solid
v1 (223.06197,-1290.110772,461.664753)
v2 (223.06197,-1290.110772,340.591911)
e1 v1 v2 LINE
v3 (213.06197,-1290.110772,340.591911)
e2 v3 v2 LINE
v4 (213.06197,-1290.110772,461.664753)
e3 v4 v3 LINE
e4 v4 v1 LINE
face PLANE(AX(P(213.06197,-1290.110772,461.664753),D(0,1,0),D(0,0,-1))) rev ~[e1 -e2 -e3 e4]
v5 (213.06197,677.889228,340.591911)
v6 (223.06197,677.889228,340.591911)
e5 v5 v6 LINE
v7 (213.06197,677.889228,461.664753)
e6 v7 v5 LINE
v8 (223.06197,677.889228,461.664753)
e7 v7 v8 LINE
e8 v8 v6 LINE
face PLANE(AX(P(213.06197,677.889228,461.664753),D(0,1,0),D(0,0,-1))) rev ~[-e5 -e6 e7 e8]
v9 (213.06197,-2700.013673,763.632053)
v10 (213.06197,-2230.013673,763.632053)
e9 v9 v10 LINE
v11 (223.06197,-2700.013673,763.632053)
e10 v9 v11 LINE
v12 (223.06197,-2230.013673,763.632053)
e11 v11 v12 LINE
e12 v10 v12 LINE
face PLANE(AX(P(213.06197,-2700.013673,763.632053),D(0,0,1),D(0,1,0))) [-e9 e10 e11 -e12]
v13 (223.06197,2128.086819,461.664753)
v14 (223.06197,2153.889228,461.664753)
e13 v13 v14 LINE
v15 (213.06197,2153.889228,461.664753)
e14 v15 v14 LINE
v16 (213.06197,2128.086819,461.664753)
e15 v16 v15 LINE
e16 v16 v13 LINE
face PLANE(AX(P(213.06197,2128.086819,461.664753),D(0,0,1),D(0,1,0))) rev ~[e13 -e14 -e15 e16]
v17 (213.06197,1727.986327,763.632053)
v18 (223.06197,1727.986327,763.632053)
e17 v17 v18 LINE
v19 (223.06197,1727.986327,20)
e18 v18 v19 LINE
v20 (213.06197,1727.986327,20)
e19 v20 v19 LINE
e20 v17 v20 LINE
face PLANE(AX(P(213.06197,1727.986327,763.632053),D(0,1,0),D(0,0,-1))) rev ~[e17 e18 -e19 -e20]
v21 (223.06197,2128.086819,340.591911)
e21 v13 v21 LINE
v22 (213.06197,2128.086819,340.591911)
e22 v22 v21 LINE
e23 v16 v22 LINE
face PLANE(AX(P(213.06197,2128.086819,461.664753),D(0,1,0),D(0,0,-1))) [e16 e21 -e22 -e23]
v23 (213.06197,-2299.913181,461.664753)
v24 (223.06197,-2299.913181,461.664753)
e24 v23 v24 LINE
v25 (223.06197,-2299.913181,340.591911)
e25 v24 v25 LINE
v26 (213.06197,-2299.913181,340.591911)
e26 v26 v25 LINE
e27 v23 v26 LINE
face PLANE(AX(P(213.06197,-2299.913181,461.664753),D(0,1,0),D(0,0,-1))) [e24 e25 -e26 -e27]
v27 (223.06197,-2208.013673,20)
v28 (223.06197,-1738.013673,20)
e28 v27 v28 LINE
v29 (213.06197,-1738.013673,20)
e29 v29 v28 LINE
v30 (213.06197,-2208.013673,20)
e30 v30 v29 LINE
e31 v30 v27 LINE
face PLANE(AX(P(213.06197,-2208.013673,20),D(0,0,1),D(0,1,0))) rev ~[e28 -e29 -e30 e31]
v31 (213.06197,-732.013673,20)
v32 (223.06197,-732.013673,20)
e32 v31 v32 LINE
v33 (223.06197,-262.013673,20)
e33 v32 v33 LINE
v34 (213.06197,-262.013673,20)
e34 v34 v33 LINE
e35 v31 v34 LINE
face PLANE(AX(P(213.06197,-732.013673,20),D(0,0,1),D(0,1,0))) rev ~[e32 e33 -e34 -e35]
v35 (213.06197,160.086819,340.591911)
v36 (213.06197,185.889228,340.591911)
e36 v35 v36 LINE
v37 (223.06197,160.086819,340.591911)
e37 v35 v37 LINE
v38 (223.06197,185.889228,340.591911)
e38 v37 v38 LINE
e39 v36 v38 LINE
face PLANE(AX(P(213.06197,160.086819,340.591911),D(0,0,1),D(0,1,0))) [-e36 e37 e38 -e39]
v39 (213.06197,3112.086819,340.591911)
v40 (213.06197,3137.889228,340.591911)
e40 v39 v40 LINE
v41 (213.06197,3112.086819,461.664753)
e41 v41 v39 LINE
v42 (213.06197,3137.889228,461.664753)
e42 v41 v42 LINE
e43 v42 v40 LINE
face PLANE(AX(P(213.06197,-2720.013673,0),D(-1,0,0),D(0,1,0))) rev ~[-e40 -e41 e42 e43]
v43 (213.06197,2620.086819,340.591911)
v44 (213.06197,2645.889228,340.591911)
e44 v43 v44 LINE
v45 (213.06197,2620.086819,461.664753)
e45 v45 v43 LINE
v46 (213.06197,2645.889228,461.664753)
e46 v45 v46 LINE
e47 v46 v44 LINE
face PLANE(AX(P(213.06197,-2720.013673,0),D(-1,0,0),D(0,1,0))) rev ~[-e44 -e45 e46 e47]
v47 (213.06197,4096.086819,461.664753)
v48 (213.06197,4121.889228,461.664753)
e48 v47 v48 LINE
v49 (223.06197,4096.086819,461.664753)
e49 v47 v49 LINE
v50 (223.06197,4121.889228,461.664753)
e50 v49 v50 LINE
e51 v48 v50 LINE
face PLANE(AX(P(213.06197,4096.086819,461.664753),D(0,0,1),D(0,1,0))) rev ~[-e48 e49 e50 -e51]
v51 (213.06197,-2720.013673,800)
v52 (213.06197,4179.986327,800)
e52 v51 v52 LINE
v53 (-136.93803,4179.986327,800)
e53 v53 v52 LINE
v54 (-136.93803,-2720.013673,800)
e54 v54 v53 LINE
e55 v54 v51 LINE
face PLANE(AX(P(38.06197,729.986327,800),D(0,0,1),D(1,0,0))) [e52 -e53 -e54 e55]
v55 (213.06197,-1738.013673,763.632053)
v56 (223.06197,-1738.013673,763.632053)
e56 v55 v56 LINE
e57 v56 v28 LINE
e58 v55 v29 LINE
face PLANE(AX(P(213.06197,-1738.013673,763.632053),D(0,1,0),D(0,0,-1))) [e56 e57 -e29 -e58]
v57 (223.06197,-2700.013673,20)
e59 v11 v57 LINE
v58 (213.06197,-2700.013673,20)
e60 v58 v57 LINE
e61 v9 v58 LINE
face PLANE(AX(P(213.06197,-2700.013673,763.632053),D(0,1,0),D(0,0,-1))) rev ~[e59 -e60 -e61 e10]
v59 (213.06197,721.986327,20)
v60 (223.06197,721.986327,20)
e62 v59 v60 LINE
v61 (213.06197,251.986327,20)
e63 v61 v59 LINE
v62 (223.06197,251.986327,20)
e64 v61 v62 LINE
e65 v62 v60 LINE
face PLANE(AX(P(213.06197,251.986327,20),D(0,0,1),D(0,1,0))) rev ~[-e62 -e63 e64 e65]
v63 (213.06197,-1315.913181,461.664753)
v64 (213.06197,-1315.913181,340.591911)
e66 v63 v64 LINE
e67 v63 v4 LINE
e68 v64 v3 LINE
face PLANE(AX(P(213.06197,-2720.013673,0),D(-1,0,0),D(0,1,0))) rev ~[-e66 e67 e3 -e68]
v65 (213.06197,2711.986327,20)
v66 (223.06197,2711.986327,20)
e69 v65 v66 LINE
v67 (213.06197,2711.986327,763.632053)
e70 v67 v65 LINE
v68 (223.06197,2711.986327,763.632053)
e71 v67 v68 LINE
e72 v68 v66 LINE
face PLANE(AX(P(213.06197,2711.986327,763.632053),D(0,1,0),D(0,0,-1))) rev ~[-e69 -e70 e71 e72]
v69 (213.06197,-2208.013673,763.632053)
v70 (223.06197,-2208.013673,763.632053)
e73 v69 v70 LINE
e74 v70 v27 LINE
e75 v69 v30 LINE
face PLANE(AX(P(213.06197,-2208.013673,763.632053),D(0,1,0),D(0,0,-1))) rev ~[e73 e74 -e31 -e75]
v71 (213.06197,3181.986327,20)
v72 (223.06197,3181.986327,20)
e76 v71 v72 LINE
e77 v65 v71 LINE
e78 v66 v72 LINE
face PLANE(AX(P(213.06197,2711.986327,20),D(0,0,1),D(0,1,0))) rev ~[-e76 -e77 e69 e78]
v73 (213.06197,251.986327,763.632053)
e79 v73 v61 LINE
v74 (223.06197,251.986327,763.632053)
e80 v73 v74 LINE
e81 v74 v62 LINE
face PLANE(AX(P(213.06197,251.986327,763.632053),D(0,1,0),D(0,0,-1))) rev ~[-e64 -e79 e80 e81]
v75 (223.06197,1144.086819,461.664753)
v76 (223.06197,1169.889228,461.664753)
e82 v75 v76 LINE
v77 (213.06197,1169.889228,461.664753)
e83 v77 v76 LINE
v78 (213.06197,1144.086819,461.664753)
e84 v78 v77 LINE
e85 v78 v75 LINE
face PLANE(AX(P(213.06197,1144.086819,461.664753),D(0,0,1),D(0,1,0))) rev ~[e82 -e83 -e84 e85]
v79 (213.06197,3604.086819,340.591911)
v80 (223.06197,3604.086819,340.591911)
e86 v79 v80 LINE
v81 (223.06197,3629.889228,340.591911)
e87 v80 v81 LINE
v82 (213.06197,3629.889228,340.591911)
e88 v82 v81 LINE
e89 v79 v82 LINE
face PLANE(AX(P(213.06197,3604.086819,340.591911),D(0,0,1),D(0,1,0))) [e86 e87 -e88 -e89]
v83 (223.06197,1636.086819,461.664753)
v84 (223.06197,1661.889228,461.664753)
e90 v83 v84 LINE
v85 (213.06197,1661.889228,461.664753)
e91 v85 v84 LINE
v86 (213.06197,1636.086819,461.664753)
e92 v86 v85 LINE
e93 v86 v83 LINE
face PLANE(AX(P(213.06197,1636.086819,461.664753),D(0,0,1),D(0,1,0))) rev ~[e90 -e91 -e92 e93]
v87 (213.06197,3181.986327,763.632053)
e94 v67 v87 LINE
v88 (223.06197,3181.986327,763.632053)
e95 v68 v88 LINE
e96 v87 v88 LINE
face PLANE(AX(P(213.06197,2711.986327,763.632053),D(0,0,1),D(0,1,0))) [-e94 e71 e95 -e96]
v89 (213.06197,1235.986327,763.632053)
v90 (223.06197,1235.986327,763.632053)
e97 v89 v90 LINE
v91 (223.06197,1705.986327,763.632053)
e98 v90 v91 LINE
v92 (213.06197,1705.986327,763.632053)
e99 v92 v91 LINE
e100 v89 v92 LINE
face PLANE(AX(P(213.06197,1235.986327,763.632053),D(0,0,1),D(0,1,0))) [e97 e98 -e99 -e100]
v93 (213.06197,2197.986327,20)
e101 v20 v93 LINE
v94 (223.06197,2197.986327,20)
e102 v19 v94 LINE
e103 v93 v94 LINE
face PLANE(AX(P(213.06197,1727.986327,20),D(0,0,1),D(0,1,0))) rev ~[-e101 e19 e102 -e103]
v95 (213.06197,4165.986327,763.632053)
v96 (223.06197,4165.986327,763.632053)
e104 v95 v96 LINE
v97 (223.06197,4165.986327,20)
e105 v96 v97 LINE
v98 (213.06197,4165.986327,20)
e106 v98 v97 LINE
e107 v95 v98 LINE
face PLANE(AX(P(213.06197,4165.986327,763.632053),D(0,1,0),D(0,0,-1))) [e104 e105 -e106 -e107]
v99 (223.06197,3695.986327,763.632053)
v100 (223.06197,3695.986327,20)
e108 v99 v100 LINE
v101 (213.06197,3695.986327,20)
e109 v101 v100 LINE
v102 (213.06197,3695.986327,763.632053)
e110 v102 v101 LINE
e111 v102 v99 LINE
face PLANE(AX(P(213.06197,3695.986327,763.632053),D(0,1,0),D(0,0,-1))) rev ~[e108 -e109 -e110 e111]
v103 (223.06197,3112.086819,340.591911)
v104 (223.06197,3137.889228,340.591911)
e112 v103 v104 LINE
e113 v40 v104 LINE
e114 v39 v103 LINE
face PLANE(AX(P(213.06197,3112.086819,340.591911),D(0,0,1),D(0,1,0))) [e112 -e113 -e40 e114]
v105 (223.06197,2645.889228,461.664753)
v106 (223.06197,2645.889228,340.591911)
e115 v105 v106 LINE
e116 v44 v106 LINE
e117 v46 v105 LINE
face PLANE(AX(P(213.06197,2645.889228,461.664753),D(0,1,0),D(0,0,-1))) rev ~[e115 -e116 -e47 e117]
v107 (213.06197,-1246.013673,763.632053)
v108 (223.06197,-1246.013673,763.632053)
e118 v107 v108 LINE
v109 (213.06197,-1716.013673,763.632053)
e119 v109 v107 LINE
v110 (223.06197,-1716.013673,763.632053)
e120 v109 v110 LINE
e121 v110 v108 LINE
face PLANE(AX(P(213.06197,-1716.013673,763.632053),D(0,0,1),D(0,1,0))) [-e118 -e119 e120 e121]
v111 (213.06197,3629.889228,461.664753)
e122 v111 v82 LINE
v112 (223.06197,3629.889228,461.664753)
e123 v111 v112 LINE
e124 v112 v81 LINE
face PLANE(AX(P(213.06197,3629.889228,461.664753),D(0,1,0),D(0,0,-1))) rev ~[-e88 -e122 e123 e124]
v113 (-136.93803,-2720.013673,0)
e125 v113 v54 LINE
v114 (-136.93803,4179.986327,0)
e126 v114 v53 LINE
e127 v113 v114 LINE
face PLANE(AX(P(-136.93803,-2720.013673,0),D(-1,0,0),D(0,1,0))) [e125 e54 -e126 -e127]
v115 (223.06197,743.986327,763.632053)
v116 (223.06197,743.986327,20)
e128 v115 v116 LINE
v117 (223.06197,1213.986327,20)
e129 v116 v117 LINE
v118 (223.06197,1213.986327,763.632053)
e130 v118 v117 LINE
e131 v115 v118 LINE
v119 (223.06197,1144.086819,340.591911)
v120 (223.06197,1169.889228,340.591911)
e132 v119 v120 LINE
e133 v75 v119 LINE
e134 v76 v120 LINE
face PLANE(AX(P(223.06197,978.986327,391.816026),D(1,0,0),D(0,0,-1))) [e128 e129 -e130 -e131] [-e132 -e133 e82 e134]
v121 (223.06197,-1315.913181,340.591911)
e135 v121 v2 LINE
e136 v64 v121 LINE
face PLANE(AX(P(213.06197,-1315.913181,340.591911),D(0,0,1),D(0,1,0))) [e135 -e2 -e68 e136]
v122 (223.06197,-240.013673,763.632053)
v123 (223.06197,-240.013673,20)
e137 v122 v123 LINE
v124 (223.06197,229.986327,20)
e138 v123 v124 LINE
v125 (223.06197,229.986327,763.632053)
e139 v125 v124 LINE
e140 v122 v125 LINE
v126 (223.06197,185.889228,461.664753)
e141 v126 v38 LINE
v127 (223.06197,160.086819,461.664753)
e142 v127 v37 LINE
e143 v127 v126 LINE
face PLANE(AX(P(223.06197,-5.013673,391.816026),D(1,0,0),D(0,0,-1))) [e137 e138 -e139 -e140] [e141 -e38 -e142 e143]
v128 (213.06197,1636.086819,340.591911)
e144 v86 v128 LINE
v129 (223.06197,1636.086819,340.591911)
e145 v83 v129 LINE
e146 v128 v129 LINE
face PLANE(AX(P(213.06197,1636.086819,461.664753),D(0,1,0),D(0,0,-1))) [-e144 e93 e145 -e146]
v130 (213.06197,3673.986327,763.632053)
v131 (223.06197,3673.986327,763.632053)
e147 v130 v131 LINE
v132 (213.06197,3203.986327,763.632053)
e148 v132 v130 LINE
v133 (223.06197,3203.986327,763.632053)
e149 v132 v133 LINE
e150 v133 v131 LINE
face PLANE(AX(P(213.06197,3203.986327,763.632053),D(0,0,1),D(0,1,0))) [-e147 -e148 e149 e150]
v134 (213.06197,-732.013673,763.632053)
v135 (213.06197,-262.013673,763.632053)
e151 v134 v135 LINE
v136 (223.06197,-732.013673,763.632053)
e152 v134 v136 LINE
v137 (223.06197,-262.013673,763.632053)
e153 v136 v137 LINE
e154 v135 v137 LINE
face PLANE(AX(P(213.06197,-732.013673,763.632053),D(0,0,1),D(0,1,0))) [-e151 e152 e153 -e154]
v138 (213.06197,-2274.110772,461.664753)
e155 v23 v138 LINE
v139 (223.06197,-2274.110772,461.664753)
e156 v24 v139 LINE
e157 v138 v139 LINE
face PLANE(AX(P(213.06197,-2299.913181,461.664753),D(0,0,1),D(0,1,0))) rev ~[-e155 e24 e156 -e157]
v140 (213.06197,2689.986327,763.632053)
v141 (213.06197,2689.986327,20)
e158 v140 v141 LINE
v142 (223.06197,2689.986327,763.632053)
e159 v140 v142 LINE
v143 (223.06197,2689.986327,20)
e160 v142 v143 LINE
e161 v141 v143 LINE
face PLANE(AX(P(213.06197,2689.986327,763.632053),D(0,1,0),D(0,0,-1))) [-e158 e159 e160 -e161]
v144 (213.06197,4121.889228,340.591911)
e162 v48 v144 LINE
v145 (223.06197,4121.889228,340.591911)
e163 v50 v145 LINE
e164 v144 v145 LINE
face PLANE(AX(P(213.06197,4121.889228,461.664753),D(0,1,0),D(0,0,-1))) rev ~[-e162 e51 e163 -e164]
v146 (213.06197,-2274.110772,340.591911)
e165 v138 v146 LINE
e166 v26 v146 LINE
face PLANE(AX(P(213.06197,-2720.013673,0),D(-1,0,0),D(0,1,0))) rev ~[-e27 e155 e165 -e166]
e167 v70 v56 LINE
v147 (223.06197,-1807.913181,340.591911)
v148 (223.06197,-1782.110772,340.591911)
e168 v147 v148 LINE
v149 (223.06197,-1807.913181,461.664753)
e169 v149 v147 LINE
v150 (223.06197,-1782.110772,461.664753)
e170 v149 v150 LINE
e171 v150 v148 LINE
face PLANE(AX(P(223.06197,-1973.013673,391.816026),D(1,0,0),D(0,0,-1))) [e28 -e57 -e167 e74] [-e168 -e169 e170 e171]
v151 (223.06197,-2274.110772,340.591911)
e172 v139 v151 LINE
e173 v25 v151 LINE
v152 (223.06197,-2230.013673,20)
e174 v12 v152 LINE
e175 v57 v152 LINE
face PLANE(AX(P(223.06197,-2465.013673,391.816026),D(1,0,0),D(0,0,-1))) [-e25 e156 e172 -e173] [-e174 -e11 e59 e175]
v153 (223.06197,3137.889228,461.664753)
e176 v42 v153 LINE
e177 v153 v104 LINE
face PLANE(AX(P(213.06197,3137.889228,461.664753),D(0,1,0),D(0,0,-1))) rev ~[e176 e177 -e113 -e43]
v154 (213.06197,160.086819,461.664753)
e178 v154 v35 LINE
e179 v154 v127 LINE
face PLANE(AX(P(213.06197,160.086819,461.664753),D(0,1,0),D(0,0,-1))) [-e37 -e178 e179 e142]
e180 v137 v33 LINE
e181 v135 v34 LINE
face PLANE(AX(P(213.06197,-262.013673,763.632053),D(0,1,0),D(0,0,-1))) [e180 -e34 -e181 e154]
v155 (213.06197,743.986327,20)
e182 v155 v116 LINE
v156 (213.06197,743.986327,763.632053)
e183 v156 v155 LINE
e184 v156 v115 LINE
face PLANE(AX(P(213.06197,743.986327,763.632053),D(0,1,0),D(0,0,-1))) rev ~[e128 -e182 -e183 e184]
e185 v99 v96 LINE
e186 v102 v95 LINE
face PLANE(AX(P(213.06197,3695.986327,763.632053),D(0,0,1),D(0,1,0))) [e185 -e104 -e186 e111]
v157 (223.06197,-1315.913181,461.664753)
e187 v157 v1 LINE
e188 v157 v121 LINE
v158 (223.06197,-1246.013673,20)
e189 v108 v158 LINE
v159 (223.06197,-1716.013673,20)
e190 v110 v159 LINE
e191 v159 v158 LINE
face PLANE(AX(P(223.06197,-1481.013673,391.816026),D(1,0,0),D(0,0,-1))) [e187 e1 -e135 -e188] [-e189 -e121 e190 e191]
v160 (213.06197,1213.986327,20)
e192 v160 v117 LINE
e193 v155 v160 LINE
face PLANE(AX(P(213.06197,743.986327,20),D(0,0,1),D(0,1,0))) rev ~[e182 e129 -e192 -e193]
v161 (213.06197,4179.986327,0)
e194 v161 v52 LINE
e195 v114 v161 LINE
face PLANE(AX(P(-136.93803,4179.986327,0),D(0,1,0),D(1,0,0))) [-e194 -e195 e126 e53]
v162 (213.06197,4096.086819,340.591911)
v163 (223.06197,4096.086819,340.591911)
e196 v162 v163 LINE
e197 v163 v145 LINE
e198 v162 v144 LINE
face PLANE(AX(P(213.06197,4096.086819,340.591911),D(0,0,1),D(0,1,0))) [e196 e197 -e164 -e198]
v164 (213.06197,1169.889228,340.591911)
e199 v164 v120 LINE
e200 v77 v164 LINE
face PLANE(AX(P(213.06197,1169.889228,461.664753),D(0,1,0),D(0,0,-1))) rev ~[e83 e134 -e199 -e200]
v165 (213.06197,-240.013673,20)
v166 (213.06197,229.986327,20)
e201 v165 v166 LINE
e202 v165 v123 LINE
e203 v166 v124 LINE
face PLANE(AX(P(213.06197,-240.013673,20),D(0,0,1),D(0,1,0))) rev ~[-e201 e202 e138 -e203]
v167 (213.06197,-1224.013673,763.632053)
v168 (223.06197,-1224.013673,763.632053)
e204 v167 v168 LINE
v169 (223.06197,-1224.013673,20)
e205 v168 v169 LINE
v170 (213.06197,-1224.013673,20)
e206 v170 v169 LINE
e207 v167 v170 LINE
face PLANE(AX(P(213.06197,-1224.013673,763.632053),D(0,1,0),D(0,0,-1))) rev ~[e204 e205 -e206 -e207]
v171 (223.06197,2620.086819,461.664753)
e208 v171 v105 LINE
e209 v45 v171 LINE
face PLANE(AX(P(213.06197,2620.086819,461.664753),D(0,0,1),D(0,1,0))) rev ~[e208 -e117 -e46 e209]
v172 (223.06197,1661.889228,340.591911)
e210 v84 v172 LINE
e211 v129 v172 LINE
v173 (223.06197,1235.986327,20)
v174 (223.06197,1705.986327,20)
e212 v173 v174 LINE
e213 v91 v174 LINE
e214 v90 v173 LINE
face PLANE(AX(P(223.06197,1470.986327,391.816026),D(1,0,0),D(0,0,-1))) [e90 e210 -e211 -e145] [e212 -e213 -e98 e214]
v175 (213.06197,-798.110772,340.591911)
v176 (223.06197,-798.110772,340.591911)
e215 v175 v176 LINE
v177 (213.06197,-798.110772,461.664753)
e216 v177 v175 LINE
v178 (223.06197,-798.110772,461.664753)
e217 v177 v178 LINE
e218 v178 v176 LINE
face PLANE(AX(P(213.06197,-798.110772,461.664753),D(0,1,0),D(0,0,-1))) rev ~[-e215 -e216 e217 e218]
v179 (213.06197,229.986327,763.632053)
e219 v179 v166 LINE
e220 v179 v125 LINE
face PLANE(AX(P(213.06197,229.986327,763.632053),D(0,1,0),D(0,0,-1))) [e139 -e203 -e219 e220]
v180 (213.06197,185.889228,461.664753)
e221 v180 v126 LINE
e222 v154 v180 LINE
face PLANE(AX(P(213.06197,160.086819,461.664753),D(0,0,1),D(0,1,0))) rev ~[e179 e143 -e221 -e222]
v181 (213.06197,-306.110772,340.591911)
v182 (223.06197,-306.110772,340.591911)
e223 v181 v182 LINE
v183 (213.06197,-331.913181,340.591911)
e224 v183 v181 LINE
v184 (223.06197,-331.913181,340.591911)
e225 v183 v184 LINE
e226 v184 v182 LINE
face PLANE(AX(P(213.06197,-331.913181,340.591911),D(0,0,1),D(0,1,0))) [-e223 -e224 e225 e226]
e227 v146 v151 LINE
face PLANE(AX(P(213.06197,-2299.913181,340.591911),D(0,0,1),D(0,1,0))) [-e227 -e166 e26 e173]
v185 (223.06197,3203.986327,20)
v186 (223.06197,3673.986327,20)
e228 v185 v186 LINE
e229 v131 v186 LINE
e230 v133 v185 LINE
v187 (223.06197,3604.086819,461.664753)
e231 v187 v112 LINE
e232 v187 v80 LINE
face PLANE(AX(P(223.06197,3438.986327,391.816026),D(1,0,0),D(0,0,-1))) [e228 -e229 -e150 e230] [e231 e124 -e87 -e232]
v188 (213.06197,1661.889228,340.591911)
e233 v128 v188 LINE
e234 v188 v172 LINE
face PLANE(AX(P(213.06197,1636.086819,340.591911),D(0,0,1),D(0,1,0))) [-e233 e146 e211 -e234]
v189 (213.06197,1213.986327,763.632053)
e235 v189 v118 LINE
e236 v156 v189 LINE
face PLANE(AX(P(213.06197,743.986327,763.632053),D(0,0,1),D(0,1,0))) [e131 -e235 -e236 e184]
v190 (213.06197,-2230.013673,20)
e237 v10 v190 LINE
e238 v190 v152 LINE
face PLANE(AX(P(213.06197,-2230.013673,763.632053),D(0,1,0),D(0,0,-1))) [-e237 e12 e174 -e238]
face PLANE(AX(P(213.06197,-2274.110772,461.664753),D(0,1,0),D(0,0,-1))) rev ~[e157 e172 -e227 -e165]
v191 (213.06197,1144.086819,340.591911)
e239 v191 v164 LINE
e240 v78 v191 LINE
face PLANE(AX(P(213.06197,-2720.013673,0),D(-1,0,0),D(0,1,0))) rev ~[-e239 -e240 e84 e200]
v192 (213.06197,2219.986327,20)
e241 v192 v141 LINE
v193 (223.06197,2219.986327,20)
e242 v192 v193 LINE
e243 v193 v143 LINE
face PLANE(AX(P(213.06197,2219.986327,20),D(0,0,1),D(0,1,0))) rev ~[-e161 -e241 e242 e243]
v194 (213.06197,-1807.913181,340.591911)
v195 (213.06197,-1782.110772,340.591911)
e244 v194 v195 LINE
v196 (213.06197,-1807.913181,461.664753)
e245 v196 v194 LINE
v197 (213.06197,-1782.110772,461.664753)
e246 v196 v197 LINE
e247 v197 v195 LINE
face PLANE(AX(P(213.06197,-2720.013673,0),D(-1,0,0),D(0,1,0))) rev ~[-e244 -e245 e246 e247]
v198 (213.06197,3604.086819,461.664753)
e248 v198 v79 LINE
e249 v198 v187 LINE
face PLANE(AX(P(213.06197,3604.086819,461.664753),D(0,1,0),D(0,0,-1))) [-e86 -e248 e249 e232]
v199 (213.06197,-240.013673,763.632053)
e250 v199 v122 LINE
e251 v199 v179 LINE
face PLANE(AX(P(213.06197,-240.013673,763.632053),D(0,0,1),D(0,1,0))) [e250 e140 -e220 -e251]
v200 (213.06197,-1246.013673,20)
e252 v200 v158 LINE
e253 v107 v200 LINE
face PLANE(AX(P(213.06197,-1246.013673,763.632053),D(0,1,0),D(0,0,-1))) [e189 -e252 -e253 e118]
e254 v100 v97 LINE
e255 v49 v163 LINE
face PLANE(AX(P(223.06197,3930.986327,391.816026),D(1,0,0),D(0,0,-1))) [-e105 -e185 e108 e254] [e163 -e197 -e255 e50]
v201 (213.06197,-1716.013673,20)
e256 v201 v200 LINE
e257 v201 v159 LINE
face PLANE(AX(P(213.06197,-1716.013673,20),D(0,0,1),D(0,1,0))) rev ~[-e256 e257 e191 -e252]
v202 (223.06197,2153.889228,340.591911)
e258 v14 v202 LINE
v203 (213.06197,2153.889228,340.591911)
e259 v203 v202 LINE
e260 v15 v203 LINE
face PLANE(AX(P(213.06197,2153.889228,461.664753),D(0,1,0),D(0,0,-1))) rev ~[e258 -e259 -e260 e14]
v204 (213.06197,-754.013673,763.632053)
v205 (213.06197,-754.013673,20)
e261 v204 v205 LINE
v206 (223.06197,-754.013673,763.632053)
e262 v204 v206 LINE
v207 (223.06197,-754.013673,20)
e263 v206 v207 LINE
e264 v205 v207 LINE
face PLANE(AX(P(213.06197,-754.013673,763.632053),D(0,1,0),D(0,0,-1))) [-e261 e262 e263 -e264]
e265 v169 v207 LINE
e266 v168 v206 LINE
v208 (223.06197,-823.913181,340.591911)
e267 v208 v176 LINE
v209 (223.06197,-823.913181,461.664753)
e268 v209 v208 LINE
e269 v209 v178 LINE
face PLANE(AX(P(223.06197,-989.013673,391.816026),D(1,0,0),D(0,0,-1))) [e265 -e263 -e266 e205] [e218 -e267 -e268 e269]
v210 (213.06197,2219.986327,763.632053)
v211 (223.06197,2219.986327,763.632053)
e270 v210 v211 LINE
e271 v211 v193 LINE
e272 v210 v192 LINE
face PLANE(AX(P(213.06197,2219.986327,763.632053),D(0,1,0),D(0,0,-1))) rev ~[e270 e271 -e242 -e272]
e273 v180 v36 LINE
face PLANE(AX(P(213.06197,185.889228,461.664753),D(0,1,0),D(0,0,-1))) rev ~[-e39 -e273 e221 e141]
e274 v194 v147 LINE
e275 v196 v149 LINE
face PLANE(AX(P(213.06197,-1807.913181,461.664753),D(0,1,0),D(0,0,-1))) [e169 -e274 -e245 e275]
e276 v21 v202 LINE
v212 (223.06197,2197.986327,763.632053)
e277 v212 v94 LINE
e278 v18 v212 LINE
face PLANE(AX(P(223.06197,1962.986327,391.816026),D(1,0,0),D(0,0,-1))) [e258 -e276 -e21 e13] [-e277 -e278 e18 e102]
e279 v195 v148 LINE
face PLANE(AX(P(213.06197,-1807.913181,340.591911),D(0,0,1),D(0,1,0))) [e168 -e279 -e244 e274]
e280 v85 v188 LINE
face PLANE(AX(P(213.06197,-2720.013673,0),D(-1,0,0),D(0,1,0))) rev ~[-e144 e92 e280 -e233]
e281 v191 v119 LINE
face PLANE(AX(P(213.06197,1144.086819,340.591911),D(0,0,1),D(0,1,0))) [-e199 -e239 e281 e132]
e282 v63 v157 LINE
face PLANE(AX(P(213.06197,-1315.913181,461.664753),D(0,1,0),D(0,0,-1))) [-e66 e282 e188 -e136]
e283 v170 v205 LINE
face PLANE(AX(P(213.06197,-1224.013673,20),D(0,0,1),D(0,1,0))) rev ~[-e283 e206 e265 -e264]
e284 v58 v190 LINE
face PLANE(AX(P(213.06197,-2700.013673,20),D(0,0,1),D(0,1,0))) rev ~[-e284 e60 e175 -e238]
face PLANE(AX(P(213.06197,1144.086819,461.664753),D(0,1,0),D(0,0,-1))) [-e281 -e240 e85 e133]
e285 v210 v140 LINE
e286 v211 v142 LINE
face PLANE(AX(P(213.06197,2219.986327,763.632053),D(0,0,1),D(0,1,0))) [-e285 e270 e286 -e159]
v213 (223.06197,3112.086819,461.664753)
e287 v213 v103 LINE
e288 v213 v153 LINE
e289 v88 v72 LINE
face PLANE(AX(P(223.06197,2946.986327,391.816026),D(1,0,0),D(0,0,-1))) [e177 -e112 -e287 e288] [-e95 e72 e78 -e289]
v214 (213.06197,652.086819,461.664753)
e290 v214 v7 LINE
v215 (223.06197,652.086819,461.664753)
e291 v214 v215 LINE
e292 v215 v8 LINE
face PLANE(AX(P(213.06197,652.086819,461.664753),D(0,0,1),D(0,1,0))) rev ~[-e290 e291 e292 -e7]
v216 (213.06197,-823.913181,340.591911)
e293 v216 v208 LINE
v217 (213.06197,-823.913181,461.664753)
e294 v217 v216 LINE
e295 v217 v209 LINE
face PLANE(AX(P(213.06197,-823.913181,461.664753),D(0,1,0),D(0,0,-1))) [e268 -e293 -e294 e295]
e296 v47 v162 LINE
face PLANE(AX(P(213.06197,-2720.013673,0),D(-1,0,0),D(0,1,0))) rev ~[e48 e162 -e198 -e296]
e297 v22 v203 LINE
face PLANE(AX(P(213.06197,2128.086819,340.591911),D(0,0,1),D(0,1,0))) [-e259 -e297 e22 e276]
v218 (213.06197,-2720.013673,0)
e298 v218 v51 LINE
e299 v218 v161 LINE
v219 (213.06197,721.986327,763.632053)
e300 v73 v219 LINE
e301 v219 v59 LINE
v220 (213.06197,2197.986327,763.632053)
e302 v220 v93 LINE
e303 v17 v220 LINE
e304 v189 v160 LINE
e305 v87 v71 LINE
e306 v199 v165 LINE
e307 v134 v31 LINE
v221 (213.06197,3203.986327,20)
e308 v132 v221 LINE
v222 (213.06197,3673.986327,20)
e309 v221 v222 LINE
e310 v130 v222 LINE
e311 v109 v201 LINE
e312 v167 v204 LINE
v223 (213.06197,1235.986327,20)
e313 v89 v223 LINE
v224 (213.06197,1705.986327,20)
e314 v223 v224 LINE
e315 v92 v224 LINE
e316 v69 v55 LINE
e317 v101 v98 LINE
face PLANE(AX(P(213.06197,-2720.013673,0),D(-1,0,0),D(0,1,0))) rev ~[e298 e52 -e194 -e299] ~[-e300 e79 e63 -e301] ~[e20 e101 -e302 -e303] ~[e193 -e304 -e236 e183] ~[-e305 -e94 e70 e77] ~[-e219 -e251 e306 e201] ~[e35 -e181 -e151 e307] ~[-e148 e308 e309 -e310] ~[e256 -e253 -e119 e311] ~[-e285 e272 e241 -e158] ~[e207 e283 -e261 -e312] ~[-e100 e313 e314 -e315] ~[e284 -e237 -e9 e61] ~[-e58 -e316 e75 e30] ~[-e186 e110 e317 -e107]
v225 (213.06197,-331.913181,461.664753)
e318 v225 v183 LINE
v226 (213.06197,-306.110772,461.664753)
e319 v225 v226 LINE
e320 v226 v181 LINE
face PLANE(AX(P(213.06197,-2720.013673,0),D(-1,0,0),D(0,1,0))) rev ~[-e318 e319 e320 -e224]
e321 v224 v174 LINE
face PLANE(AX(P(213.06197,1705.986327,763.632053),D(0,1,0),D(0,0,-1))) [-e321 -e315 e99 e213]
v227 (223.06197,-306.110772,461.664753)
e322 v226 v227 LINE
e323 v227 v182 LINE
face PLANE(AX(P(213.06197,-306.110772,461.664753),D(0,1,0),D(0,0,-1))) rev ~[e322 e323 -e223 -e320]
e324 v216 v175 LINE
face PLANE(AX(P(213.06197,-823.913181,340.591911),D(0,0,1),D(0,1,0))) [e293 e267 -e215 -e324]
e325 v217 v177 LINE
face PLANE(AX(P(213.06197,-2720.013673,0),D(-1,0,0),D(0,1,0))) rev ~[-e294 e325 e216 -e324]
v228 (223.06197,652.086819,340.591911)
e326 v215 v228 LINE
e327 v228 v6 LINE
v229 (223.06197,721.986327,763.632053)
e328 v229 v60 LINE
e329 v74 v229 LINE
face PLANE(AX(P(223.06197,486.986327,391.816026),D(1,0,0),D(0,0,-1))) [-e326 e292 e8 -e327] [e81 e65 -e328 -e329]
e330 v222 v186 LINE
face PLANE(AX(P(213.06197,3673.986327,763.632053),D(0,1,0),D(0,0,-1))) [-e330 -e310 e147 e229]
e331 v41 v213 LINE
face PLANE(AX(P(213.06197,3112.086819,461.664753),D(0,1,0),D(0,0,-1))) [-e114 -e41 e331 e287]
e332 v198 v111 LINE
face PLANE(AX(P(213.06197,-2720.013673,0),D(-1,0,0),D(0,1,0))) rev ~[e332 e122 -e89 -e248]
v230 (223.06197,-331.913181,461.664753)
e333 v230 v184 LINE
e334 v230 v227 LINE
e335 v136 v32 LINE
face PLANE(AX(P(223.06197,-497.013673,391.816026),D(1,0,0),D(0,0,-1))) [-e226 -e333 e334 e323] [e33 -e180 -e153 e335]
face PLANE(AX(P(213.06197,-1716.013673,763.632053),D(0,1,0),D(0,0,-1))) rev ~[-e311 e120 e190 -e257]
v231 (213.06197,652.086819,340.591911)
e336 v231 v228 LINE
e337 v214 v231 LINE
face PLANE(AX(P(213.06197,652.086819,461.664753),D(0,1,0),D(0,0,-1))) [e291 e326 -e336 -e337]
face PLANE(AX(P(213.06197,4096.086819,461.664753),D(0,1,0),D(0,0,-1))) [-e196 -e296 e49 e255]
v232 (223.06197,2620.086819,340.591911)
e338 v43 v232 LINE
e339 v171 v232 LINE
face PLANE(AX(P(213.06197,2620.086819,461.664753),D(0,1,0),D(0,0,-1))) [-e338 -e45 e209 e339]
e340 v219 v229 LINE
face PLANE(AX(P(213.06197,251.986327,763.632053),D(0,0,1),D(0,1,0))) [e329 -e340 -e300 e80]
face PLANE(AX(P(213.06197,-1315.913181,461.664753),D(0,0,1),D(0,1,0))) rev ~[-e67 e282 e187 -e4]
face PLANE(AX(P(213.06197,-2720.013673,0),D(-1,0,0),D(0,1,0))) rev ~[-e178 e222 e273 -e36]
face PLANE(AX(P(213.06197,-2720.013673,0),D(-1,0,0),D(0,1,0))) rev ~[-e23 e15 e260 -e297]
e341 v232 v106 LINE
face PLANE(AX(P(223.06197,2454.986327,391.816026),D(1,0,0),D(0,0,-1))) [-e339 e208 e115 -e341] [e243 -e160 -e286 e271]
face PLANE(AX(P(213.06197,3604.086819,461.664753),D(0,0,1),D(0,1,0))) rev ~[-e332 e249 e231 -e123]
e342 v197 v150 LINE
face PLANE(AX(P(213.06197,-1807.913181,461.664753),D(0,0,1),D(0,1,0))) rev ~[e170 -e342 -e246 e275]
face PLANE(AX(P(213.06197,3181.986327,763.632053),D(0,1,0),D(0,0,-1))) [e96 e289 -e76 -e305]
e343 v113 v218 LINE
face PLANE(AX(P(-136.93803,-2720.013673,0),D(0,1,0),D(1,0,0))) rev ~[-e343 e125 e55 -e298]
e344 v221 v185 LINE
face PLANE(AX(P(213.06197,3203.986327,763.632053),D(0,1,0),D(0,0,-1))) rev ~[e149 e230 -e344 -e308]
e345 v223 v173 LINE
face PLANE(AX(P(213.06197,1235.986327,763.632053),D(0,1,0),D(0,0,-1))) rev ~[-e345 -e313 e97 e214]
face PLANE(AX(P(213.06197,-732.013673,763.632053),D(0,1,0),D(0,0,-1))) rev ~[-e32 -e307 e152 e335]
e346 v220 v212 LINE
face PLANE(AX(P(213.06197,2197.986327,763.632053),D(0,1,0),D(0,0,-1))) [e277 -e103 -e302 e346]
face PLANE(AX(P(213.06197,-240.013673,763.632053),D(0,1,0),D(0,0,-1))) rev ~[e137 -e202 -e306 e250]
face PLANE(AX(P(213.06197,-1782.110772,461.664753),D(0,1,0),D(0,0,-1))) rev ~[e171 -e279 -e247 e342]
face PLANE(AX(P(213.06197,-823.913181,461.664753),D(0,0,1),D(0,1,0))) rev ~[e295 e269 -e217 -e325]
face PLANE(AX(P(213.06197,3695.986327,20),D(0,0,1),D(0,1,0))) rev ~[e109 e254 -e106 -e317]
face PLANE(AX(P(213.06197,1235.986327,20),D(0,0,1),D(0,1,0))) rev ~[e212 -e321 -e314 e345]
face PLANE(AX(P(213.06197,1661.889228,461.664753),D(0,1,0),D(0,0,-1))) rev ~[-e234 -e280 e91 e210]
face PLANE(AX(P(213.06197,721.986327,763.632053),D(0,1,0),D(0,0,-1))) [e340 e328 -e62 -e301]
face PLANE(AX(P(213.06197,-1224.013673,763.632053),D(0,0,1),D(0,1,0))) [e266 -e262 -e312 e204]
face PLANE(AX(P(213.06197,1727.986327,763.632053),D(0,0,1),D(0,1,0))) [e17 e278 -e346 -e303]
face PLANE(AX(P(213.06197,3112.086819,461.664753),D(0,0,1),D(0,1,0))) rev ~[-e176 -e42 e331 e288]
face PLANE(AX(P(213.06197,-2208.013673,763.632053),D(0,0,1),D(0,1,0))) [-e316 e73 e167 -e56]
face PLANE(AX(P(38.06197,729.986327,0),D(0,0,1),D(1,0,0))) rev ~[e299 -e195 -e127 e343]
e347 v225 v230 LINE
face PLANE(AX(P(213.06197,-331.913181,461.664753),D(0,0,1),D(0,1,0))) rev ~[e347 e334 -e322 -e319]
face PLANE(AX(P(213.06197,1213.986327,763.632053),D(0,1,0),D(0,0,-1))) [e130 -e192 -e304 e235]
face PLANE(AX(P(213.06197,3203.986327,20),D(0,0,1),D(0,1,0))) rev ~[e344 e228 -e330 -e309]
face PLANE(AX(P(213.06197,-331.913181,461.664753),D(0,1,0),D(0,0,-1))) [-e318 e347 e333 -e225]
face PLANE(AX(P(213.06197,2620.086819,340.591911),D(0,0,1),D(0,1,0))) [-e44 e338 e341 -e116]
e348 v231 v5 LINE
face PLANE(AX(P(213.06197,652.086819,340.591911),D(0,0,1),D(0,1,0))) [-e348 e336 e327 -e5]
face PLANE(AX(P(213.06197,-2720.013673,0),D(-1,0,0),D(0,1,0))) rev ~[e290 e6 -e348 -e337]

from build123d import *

# Parameters (mm, degrees)
SKETCH1_W           = 350
SKETCH1_H           = 6900
BOSS_EXTRUDE1_DEPTH = 800
SKETCH3_W           = 743.632052548
SKETCH3_H           = 470
SKETCH3_W_2         = 121.072841775
SKETCH3_H_2         = 25.802408902
BOSS_EXTRUDE3_DEPTH = 10


with BuildPart() as part:
    # Sketch1 → Boss-Extrude1 (new body)
    with BuildSketch(Plane.XY):
        with Locations((38.061970043, 729.986327315)):
            Rectangle(SKETCH1_W, SKETCH1_H)
    extrude(amount=BOSS_EXTRUDE1_DEPTH)

    # Sketch3 → Boss-Extrude3 (add)
    with BuildSketch(Plane(origin=(213.061970043, 0, 0), x_dir=(0, 0, -1), z_dir=(1, 0, 0))):
        with Locations((-391.816026274, -2465.013672685)):
            Rectangle(SKETCH3_W, SKETCH3_H)
        with Locations((-401.128332344, -2287.011976611)):
            Rectangle(SKETCH3_W_2, SKETCH3_H_2, mode=Mode.SUBTRACT)
        with Locations((-391.816026274, -1481.013672685)):
            Rectangle(SKETCH3_W, SKETCH3_H)
        with Locations((-401.128332344, -1303.011976611)):
            Rectangle(SKETCH3_W_2, SKETCH3_H_2, mode=Mode.SUBTRACT)
        with Locations((-391.816026274, -1973.013672685)):
            Rectangle(SKETCH3_W, SKETCH3_H)
        with Locations((-401.128332344, -1795.011976611)):
            Rectangle(SKETCH3_W_2, SKETCH3_H_2, mode=Mode.SUBTRACT)
        with Locations((-391.816026274, -989.013672685)):
            Rectangle(SKETCH3_W, SKETCH3_H)
        with Locations((-401.128332344, -811.011976611)):
            Rectangle(SKETCH3_W_2, SKETCH3_H_2, mode=Mode.SUBTRACT)
        with Locations((-391.816026274, -497.013672685)):
            Rectangle(SKETCH3_W, SKETCH3_H)
        with Locations((-401.128332344, -319.011976611)):
            Rectangle(SKETCH3_W_2, SKETCH3_H_2, mode=Mode.SUBTRACT)
        with Locations((-391.816026274, -5.013672685)):
            Rectangle(SKETCH3_W, SKETCH3_H)
        with Locations((-401.128332344, 172.988023389)):
            Rectangle(SKETCH3_W_2, SKETCH3_H_2, mode=Mode.SUBTRACT)
        with Locations((-391.816026274, 486.986327315)):
            Rectangle(SKETCH3_W, SKETCH3_H)
        with Locations((-401.128332344, 664.988023389)):
            Rectangle(SKETCH3_W_2, SKETCH3_H_2, mode=Mode.SUBTRACT)
        with Locations((-391.816026274, 978.986327315)):
            Rectangle(SKETCH3_W, SKETCH3_H)
        with Locations((-401.128332344, 1156.988023389)):
            Rectangle(SKETCH3_W_2, SKETCH3_H_2, mode=Mode.SUBTRACT)
        with Locations((-391.816026274, 1470.986327315)):
            Rectangle(SKETCH3_W, SKETCH3_H)
        with Locations((-401.128332344, 1648.988023389)):
            Rectangle(SKETCH3_W_2, SKETCH3_H_2, mode=Mode.SUBTRACT)
        with Locations((-391.816026274, 1962.986327315)):
            Rectangle(SKETCH3_W, SKETCH3_H)
        with Locations((-401.128332344, 2140.988023389)):
            Rectangle(SKETCH3_W_2, SKETCH3_H_2, mode=Mode.SUBTRACT)
        with Locations((-391.816026274, 2454.986327315)):
            Rectangle(SKETCH3_W, SKETCH3_H)
        with Locations((-401.128332344, 2632.988023389)):
            Rectangle(SKETCH3_W_2, SKETCH3_H_2, mode=Mode.SUBTRACT)
        with Locations((-391.816026274, 2946.986327315)):
            Rectangle(SKETCH3_W, SKETCH3_H)
        with Locations((-401.128332344, 3124.988023389)):
            Rectangle(SKETCH3_W_2, SKETCH3_H_2, mode=Mode.SUBTRACT)
        with Locations((-391.816026274, 3438.986327315)):
            Rectangle(SKETCH3_W, SKETCH3_H)
        with Locations((-401.128332344, 3616.988023389)):
            Rectangle(SKETCH3_W_2, SKETCH3_H_2, mode=Mode.SUBTRACT)
        with Locations((-391.816026274, 3930.986327315)):
            Rectangle(SKETCH3_W, SKETCH3_H)
        with Locations((-401.128332344, 4108.988023389)):
            Rectangle(SKETCH3_W_2, SKETCH3_H_2, mode=Mode.SUBTRACT)
    extrude(amount=BOSS_EXTRUDE3_DEPTH)


solid = part.part
